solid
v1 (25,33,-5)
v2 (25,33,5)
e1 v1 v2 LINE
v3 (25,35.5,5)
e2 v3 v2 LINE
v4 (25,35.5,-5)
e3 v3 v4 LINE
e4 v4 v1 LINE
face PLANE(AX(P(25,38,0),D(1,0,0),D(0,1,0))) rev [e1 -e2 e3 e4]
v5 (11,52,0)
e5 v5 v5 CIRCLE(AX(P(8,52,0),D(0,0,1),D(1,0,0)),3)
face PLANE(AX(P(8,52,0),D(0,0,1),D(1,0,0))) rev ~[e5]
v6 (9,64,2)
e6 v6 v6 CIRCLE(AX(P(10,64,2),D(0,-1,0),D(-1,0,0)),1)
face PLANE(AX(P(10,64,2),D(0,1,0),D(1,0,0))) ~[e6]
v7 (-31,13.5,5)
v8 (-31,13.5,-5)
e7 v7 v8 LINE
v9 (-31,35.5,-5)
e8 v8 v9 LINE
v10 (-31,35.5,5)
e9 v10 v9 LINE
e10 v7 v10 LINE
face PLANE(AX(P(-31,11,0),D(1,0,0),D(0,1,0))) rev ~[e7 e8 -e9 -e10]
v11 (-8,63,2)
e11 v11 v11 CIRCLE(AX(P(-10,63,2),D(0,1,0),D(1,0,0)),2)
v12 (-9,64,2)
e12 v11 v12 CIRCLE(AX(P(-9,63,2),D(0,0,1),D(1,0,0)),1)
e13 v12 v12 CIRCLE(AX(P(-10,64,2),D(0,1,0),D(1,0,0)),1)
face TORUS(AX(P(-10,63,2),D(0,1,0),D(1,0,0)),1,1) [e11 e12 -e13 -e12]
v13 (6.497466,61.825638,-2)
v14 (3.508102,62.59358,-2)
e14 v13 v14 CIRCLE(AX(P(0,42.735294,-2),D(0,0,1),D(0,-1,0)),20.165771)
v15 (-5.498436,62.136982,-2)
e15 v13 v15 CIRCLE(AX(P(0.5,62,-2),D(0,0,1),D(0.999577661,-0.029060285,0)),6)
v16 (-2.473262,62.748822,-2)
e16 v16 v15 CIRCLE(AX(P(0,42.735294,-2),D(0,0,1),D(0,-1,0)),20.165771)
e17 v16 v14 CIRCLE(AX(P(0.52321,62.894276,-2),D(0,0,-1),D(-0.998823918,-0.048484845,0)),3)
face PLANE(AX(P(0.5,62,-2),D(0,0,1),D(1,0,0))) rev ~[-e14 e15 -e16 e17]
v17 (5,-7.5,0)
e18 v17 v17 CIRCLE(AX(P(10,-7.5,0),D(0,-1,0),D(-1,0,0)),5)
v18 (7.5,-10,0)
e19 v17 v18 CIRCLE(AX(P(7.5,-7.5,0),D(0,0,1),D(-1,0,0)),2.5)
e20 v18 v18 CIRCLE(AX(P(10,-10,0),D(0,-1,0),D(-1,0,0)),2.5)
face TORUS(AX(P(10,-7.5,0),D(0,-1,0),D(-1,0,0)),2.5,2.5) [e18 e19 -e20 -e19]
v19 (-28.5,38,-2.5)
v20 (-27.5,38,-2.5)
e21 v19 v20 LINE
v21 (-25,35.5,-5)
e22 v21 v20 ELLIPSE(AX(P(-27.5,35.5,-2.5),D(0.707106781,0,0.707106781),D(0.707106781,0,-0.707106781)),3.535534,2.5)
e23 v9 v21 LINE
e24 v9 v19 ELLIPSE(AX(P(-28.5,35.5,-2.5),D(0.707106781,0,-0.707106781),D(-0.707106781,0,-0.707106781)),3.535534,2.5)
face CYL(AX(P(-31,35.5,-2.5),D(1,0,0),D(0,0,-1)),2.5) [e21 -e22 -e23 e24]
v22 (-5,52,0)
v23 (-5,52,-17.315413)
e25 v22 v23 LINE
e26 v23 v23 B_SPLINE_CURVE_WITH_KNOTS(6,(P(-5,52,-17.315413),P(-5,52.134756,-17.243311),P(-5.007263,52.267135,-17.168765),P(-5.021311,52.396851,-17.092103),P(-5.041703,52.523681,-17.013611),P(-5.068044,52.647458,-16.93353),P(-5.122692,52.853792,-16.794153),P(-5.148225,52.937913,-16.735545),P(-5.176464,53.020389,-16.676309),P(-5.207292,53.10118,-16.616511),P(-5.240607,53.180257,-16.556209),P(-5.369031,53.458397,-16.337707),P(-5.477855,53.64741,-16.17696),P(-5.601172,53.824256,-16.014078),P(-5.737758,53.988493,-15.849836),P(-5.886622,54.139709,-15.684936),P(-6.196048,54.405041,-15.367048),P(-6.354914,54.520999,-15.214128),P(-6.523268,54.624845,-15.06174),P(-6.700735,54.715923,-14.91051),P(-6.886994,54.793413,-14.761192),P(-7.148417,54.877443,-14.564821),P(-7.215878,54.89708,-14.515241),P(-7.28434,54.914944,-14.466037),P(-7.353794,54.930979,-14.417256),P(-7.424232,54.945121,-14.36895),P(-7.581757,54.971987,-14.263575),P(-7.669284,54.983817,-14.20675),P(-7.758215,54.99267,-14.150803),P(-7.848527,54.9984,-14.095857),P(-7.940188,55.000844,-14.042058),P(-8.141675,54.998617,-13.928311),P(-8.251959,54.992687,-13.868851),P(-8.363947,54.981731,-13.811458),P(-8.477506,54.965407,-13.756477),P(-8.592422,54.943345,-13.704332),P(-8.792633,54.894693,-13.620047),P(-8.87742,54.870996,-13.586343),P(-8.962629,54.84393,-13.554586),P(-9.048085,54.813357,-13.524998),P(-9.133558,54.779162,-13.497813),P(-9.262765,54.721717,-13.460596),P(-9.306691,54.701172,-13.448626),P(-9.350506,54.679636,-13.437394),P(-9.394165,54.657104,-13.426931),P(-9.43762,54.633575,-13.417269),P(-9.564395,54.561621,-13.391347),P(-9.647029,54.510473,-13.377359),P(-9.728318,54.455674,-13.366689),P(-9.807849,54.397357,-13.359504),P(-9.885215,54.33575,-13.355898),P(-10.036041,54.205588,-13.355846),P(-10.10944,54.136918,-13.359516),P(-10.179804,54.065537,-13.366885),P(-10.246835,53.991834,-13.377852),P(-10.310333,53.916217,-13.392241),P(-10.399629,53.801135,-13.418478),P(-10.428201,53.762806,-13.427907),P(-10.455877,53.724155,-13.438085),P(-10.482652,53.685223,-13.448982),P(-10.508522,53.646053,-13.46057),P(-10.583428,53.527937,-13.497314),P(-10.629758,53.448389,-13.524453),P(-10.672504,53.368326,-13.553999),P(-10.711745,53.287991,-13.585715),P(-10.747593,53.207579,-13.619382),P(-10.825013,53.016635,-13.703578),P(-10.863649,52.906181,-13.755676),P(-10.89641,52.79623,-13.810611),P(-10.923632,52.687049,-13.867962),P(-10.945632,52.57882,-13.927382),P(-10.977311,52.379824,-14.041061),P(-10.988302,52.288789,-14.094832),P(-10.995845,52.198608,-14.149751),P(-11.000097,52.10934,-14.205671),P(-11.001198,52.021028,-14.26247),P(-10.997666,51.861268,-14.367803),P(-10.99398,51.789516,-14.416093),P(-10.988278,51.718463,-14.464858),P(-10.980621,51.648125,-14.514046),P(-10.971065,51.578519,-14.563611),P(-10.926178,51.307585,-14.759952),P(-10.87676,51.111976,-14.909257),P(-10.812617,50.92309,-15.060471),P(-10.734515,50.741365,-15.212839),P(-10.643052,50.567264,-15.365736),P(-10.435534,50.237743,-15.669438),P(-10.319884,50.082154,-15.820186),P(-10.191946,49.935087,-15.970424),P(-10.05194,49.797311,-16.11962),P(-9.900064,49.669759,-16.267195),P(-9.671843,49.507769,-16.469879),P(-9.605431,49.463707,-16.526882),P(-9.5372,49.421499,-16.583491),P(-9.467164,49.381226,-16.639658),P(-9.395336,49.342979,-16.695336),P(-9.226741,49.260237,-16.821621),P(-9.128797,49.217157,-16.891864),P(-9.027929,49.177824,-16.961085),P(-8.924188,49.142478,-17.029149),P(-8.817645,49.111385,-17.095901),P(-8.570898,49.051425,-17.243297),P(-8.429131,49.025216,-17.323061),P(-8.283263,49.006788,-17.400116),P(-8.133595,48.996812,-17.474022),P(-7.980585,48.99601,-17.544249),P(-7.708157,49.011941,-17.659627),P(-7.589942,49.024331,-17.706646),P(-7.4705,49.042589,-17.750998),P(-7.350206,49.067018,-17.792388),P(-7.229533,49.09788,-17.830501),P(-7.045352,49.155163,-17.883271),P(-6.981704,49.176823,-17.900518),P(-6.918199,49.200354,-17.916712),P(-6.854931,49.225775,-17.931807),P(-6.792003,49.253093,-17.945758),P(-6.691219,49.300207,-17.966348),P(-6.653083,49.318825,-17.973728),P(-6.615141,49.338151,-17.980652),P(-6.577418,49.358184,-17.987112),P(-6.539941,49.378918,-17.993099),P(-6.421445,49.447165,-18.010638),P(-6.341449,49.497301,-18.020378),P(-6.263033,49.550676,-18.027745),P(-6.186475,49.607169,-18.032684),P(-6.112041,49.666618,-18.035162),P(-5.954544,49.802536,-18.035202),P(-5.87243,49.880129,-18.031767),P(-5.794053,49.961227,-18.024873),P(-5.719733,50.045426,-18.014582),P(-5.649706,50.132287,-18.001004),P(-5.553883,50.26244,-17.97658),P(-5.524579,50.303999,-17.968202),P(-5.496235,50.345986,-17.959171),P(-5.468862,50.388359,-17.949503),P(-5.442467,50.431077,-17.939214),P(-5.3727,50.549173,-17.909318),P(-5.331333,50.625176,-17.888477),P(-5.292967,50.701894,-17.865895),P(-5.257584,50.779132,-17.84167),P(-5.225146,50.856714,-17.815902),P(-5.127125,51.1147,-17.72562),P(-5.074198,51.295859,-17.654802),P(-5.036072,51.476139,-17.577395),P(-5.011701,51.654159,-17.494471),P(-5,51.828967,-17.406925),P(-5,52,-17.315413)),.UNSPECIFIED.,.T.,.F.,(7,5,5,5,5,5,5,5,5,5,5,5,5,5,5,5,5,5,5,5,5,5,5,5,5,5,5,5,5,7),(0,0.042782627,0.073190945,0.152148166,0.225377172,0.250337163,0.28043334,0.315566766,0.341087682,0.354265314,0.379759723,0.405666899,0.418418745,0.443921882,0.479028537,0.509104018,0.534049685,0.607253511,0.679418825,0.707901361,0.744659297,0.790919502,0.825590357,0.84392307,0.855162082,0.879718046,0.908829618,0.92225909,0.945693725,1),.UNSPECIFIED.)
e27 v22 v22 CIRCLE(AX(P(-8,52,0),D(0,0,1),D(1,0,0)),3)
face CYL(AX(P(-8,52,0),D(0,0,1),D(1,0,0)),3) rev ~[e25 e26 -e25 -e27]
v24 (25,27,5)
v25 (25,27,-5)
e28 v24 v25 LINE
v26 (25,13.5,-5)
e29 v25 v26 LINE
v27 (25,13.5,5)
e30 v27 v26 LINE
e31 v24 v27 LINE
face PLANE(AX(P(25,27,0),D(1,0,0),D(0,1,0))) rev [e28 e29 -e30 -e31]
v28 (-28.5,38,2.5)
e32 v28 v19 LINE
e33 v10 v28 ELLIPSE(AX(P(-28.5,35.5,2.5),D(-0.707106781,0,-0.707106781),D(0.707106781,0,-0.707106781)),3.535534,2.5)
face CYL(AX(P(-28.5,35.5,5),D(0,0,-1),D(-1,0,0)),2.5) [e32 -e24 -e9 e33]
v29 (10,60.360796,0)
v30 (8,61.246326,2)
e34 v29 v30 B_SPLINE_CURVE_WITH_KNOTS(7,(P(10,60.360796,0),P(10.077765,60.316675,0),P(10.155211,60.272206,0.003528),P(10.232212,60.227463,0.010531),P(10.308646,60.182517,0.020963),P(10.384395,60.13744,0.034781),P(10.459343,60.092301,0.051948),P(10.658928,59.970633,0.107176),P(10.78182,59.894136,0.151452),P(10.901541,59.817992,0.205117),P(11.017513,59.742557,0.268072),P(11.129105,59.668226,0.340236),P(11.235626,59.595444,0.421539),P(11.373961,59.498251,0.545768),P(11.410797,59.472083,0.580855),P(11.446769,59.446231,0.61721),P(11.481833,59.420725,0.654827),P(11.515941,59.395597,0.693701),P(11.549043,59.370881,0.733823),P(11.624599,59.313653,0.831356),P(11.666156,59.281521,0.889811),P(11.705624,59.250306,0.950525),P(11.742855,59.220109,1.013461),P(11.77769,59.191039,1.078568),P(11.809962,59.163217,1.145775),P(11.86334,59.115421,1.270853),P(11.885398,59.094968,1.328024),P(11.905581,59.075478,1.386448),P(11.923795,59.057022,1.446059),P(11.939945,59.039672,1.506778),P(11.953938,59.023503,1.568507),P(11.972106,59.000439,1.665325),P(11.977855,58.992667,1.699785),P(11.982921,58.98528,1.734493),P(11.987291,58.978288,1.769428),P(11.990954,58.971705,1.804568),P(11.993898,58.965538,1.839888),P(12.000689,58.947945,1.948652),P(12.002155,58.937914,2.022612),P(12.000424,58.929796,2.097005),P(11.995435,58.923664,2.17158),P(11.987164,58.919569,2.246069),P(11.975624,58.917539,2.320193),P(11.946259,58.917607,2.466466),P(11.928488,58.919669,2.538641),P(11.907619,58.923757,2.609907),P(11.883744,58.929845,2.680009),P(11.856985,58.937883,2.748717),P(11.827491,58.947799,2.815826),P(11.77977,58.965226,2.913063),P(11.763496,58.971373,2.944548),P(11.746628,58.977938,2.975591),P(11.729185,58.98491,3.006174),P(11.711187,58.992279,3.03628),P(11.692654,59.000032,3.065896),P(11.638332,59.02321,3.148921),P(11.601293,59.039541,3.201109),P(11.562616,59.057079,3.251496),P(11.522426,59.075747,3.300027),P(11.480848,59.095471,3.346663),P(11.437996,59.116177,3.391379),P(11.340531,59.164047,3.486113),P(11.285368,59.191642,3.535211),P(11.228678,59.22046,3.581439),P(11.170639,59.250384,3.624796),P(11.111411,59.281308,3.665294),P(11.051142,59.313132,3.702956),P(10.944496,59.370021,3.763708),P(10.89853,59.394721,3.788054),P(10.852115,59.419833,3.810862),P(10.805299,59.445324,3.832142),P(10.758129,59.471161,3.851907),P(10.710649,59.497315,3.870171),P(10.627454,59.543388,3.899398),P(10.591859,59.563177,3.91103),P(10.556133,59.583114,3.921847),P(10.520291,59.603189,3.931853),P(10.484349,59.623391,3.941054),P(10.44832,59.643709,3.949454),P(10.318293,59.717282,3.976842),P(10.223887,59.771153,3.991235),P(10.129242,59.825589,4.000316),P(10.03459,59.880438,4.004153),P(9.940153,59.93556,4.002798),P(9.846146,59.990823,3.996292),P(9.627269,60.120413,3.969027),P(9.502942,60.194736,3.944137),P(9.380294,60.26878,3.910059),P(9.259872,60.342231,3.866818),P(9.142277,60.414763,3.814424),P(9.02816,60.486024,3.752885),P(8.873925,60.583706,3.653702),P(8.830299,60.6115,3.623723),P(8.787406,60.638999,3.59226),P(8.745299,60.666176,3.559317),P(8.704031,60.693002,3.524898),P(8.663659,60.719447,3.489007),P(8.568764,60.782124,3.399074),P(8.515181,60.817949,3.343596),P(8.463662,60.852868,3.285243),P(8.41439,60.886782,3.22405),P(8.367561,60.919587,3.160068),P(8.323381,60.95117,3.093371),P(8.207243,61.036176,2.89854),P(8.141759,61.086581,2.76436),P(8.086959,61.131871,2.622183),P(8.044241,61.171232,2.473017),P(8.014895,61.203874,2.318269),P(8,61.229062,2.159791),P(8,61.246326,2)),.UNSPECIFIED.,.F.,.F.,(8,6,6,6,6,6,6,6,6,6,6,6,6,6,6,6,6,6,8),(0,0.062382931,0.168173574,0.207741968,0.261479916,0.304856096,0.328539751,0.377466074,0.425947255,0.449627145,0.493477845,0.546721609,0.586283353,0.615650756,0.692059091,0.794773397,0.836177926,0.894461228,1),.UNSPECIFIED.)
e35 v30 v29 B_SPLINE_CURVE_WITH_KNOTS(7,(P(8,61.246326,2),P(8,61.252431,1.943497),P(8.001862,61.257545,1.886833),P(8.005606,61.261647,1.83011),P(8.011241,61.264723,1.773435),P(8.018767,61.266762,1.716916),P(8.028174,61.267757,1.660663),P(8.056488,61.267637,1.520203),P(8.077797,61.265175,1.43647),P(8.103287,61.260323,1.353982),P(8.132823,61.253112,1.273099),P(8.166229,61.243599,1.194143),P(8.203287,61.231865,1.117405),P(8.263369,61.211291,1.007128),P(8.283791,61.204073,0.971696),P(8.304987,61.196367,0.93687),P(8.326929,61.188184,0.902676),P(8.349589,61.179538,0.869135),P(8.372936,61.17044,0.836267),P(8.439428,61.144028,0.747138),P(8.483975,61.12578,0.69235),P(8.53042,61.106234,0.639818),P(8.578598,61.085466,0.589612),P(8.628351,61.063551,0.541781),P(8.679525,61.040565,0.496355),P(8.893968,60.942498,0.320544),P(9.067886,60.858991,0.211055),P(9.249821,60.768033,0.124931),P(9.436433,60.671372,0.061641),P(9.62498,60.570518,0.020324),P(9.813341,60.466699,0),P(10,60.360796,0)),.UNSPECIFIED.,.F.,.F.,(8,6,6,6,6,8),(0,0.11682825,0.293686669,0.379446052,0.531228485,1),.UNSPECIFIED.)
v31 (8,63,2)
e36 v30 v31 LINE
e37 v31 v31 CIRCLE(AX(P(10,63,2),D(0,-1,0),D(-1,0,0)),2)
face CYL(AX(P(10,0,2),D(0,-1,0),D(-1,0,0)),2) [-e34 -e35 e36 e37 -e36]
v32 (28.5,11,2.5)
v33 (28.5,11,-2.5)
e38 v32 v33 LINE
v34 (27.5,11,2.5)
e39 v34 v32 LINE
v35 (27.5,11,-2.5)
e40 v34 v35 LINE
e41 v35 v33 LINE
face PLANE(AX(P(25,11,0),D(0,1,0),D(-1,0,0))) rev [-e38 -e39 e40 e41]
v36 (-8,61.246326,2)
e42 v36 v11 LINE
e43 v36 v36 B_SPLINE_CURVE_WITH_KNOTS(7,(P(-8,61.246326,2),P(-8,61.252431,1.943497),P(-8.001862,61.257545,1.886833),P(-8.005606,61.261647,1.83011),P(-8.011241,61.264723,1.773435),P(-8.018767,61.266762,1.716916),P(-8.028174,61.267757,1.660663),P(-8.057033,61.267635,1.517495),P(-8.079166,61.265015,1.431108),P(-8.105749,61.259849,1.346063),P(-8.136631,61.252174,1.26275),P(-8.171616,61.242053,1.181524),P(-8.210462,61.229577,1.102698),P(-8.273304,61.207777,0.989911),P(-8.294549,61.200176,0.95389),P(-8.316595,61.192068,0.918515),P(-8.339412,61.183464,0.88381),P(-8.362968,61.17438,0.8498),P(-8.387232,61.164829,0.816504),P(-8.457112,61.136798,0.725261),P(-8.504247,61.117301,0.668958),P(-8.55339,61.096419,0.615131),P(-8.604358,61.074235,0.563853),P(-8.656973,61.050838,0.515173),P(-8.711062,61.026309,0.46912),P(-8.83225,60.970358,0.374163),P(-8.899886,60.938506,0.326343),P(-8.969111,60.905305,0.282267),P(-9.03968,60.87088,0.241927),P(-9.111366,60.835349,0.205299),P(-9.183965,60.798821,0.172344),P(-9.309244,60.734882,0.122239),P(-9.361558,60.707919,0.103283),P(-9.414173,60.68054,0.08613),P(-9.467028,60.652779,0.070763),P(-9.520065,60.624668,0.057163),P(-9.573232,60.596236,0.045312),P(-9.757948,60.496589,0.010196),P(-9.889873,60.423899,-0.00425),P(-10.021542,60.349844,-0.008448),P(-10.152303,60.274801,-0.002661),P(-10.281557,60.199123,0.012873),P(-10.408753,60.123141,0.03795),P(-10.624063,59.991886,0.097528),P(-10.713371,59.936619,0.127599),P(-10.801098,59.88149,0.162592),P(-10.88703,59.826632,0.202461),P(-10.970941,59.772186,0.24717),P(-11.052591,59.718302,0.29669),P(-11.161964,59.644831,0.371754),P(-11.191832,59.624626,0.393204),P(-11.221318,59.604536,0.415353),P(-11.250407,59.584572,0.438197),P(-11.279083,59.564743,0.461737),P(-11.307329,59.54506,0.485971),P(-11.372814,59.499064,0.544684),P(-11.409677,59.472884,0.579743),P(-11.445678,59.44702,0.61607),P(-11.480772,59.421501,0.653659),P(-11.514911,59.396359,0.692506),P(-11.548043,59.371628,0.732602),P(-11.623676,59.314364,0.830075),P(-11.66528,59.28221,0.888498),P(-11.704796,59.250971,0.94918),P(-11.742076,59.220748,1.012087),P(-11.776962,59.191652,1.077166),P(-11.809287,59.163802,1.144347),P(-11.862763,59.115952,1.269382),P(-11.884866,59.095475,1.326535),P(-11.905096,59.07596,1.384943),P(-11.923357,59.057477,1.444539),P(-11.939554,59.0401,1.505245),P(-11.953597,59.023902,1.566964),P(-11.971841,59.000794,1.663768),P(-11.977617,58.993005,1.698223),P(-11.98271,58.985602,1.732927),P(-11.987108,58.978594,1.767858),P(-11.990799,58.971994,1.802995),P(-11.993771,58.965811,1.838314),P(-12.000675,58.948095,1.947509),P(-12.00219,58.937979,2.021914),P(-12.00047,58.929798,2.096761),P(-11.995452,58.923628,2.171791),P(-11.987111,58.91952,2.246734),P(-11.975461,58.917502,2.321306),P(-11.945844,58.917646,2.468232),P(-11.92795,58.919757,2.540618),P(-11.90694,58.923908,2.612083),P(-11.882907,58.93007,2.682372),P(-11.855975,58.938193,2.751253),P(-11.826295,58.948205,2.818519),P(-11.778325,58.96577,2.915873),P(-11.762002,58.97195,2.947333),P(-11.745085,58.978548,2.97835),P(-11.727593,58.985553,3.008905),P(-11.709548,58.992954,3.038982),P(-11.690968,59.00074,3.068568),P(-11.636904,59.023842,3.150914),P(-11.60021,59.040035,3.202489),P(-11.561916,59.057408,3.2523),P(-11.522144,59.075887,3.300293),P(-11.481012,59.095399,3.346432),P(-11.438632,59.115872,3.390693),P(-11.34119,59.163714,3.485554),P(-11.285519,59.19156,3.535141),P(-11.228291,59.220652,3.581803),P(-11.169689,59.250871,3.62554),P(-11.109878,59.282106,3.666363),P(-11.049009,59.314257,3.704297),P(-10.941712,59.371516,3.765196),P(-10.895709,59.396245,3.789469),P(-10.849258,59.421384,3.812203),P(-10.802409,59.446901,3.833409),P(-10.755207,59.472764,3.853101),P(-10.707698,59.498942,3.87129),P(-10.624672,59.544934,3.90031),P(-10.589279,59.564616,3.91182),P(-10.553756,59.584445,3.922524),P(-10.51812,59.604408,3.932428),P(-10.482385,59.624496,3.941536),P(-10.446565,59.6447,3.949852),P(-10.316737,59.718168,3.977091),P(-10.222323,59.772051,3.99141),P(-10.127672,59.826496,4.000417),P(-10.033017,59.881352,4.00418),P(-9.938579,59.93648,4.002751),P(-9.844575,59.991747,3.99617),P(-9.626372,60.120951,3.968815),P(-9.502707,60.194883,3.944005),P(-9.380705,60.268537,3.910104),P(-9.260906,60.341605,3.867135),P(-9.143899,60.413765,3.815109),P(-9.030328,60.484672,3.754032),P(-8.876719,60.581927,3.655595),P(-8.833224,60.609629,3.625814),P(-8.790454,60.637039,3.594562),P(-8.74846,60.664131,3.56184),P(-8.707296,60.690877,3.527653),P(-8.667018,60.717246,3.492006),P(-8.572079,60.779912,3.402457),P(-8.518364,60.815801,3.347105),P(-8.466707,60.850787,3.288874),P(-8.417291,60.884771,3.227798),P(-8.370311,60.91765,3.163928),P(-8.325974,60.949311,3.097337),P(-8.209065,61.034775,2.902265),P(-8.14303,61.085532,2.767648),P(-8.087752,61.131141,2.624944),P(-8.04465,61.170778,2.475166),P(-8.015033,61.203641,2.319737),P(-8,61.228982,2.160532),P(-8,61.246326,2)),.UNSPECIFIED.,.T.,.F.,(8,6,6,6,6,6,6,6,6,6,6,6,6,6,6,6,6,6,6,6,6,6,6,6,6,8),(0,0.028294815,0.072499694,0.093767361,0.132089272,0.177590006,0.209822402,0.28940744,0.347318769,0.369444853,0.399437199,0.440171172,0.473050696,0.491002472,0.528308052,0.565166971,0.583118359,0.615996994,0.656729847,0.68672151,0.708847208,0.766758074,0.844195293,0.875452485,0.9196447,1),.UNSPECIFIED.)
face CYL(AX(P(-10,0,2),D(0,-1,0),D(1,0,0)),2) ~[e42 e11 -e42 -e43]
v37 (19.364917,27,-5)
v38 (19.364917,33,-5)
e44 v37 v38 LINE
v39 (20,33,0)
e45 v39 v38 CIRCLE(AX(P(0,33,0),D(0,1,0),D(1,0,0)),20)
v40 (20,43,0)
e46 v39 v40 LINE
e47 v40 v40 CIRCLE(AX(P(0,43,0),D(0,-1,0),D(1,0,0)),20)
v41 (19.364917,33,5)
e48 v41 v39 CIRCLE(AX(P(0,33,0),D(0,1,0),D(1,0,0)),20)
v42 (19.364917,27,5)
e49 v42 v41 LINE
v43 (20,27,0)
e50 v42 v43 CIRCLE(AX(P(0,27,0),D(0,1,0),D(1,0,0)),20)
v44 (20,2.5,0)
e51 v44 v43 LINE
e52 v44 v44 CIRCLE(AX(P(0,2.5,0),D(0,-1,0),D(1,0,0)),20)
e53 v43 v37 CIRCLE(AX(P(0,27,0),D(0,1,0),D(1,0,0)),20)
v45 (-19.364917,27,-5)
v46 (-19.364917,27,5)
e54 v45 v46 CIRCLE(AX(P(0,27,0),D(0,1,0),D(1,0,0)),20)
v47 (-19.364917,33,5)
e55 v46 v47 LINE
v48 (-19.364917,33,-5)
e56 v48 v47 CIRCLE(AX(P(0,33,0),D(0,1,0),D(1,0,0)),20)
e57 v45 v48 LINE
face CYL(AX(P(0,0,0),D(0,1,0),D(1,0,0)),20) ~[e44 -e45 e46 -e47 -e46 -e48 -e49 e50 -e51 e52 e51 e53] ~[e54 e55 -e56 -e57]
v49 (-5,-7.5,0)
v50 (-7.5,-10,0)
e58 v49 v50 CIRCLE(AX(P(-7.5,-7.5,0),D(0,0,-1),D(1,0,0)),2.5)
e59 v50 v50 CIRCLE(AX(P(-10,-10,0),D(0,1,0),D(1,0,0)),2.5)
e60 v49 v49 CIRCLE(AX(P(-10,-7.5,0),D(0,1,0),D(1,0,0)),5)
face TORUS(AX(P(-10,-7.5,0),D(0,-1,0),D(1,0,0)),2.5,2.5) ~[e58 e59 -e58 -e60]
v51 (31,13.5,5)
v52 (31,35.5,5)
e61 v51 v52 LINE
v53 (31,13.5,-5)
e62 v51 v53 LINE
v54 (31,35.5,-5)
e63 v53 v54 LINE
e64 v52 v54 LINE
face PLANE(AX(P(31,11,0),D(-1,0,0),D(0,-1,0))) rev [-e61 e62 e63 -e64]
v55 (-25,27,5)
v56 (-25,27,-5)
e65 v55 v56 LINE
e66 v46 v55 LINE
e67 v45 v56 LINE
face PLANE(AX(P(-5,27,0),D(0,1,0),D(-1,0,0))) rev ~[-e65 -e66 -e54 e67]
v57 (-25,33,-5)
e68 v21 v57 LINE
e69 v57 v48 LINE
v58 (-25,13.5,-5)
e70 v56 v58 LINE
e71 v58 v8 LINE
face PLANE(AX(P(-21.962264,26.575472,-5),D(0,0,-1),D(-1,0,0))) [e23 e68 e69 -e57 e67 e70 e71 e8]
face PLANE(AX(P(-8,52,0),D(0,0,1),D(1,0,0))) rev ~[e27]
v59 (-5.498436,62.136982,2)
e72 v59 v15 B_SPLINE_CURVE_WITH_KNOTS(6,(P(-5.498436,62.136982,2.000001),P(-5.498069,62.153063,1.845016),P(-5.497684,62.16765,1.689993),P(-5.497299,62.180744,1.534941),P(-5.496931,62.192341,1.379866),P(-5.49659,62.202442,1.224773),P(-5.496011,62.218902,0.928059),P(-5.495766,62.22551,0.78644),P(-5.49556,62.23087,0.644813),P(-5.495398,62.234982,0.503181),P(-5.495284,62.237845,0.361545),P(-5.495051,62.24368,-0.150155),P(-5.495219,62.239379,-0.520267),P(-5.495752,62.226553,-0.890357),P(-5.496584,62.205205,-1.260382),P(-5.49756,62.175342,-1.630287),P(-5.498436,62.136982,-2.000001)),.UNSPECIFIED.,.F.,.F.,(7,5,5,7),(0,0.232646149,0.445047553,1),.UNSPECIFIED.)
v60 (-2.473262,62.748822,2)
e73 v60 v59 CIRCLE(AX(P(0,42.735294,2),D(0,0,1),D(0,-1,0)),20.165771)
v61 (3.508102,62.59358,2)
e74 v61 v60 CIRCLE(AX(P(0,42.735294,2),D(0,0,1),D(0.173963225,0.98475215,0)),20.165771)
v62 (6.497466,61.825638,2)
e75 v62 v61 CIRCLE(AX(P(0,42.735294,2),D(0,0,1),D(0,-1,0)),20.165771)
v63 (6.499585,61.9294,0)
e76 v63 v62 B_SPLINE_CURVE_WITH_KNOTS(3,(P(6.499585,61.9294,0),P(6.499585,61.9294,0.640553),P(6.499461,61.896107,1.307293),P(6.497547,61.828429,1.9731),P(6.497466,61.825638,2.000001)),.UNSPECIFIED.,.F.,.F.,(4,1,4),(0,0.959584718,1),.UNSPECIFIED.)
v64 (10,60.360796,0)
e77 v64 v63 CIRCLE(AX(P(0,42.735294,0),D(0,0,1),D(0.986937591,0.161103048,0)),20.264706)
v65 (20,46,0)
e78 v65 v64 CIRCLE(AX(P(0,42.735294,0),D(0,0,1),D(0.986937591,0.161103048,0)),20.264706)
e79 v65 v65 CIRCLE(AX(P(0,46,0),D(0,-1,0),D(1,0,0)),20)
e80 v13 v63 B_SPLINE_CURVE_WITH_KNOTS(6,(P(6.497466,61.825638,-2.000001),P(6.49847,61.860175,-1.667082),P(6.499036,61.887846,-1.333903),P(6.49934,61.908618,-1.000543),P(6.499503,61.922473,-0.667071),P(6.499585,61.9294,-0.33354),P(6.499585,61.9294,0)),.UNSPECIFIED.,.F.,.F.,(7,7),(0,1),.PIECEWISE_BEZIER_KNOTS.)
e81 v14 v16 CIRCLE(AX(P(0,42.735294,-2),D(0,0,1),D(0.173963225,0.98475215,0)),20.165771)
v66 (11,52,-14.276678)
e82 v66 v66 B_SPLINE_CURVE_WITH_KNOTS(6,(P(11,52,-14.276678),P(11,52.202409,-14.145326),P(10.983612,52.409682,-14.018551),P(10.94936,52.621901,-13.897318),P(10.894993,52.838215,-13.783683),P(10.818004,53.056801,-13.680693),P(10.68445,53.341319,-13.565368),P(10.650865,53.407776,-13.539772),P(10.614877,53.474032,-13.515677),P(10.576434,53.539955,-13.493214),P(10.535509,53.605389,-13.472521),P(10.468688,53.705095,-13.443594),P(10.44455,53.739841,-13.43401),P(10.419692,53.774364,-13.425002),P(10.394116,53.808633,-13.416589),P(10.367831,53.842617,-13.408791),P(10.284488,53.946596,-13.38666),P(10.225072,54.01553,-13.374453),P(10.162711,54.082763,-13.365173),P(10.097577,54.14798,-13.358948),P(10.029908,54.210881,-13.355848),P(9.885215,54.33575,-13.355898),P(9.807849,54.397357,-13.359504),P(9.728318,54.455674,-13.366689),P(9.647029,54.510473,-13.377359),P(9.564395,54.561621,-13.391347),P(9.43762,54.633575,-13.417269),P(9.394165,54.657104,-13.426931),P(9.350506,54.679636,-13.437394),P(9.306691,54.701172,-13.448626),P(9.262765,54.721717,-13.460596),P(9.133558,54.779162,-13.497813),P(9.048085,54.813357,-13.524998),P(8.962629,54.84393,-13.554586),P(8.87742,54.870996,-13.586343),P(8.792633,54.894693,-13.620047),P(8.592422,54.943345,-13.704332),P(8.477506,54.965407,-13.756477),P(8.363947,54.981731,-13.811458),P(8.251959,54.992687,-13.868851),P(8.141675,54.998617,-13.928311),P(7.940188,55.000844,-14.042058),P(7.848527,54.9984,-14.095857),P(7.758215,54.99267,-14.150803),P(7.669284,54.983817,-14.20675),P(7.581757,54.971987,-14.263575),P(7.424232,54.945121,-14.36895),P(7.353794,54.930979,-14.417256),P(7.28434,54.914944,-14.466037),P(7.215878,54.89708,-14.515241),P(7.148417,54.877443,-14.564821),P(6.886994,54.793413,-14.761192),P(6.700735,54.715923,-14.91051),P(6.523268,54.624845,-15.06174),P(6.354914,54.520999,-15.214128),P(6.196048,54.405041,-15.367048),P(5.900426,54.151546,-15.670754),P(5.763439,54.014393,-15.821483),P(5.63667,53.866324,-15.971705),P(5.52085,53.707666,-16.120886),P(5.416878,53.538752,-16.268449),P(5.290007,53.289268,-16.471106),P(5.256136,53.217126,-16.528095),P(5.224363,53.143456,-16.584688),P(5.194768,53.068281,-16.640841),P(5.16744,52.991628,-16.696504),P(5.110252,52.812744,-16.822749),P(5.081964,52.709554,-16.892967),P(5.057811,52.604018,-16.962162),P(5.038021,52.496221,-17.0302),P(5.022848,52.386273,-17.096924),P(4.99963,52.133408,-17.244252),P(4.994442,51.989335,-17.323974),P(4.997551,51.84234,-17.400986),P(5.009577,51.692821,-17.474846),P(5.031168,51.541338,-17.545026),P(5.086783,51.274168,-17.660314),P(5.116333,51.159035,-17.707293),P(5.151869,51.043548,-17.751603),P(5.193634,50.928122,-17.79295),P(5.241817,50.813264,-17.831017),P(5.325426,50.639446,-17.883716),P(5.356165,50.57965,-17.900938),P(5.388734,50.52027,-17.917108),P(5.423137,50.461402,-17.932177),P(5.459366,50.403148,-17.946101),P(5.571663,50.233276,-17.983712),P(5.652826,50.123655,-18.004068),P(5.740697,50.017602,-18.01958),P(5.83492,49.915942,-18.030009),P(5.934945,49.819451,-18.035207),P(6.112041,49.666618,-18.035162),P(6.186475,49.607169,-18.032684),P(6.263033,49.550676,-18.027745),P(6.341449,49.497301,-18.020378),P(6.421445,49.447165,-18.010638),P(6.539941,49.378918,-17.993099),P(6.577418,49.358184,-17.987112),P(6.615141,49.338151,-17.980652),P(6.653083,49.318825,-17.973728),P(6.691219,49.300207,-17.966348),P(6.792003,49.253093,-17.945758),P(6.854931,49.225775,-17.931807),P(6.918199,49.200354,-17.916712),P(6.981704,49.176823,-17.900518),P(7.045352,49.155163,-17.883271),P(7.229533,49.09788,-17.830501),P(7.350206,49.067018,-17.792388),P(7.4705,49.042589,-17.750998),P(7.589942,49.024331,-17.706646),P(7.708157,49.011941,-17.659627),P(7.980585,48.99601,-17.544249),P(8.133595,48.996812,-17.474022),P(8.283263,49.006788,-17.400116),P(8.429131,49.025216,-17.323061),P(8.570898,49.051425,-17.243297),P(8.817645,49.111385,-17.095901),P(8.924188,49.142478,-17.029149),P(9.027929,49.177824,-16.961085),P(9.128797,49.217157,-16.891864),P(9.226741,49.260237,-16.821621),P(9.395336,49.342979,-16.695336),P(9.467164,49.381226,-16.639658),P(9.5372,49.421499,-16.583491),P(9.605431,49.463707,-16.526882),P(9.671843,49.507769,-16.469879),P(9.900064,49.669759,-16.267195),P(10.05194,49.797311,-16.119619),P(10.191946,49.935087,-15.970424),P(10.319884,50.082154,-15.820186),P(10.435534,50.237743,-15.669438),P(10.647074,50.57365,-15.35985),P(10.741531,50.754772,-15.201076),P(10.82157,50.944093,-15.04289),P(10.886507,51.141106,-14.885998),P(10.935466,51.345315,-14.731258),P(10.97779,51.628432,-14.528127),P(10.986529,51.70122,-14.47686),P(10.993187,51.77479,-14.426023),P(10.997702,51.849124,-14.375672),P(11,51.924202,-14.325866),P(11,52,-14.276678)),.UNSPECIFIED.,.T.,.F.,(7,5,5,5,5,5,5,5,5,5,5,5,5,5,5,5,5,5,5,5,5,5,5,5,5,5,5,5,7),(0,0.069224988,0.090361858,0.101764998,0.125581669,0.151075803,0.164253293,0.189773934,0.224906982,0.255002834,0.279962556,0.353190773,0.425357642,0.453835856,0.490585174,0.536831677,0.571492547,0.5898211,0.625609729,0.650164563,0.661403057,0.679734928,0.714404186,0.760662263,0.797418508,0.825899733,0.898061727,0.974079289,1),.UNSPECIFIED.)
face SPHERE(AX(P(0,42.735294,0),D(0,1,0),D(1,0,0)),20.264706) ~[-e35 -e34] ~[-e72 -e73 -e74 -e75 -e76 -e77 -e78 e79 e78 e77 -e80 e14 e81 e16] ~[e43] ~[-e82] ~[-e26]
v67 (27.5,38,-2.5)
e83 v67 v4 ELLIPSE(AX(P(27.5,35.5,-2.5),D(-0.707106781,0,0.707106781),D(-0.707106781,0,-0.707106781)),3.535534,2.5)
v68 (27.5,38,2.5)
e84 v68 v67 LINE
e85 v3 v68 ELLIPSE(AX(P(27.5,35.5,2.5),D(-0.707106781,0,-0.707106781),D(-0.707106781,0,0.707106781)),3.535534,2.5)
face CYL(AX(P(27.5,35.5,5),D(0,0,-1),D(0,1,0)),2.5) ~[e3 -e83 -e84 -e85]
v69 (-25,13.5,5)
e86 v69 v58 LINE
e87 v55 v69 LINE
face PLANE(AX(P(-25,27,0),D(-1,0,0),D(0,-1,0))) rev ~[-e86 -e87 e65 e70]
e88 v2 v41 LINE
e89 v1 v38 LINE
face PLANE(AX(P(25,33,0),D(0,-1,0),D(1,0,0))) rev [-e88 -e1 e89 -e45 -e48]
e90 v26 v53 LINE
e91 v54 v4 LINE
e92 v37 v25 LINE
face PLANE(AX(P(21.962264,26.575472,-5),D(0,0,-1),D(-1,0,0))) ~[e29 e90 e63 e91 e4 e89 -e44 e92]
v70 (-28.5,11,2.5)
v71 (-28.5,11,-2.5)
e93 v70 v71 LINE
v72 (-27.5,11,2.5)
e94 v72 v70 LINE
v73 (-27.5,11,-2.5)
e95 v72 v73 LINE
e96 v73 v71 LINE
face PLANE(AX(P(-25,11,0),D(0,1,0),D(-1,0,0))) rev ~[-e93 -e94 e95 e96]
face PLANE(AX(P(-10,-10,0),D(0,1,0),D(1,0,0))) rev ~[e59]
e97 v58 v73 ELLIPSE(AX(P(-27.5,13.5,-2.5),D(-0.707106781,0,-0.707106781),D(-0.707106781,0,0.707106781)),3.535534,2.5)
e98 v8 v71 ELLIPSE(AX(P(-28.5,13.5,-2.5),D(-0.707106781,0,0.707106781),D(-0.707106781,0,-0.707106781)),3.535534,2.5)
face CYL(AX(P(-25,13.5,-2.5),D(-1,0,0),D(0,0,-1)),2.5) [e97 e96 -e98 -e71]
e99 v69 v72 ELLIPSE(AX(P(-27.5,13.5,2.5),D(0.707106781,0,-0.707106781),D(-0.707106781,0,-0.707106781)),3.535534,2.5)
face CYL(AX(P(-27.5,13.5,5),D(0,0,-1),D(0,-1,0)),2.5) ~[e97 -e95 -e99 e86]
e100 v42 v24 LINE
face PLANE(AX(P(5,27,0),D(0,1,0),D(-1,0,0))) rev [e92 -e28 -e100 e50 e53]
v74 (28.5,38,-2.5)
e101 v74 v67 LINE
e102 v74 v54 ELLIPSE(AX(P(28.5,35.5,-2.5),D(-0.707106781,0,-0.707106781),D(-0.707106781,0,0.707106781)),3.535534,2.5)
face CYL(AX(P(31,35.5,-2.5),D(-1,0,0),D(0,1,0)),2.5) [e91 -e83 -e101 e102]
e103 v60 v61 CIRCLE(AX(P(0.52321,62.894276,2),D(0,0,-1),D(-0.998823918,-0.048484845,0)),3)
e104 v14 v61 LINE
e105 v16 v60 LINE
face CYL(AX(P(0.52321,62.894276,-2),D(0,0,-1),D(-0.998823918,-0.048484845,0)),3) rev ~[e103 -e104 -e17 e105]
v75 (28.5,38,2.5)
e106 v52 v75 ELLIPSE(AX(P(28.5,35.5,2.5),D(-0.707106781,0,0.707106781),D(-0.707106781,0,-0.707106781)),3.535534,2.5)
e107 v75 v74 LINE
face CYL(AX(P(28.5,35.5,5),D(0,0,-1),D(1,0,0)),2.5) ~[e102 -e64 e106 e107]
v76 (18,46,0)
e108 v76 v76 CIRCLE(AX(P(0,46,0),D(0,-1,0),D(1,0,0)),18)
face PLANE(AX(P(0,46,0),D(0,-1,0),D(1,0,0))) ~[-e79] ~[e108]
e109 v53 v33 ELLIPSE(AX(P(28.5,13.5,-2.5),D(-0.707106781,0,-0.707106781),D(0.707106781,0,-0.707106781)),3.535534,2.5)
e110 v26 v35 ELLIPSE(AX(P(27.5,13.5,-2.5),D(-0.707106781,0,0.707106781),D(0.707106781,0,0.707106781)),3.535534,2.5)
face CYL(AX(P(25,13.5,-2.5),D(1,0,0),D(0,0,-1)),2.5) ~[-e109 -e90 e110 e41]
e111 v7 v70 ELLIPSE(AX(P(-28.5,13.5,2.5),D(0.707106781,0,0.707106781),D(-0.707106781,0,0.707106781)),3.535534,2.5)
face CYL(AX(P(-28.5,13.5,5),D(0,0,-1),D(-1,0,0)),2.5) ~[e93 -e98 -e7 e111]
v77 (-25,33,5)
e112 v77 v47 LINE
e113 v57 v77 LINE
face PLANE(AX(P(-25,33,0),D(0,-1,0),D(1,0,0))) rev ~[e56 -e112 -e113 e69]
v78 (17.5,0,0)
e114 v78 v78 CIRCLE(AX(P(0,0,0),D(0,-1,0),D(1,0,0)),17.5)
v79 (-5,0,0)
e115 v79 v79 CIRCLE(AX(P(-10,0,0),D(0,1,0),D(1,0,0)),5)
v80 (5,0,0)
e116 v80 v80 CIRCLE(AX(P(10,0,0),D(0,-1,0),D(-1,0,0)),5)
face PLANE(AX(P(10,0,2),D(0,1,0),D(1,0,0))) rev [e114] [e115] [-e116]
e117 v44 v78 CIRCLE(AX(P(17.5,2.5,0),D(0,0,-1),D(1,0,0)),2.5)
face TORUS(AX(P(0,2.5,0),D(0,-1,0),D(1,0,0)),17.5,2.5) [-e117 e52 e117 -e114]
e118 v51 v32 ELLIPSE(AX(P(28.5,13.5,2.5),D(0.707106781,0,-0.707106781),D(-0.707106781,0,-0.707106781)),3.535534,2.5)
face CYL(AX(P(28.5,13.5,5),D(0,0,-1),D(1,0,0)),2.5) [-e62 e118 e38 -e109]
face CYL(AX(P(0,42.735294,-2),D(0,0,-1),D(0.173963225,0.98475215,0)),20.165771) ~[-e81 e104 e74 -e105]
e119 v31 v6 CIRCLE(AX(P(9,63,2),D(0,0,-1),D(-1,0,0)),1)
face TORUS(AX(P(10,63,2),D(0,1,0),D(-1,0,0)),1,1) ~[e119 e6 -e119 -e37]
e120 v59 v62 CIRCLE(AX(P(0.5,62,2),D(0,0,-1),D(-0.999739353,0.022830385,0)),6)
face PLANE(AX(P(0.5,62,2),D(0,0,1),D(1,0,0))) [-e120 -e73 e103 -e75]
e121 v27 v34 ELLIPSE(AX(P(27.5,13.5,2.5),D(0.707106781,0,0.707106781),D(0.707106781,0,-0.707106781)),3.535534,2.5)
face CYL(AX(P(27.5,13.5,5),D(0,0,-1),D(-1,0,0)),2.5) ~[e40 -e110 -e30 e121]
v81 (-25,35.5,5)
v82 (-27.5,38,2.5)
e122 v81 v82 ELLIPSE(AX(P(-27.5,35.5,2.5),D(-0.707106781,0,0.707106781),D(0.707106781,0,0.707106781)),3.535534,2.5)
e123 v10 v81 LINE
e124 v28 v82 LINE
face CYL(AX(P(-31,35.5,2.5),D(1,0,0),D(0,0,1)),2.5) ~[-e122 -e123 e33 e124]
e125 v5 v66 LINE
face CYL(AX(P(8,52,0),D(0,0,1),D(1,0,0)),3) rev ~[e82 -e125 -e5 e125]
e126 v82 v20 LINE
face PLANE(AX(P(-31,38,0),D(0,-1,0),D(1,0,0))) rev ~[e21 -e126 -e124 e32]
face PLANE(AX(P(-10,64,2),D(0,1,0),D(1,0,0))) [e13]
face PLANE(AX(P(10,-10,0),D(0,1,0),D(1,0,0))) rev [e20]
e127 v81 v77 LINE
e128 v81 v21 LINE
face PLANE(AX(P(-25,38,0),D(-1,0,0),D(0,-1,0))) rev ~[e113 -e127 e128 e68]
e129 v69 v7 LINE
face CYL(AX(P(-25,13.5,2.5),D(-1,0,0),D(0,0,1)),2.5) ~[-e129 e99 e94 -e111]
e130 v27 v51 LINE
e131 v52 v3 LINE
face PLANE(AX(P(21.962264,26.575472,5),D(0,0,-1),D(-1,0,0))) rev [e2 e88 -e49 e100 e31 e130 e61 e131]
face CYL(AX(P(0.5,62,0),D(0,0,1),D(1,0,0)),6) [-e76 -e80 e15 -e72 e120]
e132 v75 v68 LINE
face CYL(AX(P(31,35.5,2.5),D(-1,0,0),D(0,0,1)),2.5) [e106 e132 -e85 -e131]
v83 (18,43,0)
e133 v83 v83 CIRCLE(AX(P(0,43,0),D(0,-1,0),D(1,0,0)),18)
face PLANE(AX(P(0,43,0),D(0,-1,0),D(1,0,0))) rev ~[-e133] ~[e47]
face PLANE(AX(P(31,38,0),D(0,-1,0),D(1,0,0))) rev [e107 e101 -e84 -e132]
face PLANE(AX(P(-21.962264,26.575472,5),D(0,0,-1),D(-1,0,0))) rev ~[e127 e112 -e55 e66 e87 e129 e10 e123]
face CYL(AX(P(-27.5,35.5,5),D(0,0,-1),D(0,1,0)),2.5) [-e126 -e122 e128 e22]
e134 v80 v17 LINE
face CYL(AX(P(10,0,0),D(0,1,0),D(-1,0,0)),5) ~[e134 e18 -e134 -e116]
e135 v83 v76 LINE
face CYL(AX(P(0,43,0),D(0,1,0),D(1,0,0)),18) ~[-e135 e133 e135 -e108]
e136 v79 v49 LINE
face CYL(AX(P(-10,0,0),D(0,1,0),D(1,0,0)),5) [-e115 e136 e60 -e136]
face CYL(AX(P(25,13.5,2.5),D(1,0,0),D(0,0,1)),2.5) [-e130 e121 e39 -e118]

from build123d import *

# Parameters (mm, degrees)
CROQUIS2_R               = 3
CORTAR_EXTRUIR1_DEPTH    = 21
CROQUIS9_R               = 2
SALIENTE_EXTRUIR4_DEPTH  = 64
CROQUIS12_R              = 5
SALIENTE_EXTRUIR7_DEPTH  = 10
SALIENTE_EXTRUIR8_DEPTH  = 5
CROQUIS18_R              = 6
SALIENTE_EXTRUIR10_DEPTH = 2
CORTAR_EXTRUIR7_DEPTH    = 4
REDONDEO7_R              = 1
REDONDEO8_R              = 2.5
REDONDEO9_R              = 2.5
REDONDEO10_R             = 2.5
REDONDEO13_R             = 2.5


with BuildPart() as part:
    # Croquis1 → Revolución1 (revolve)
    with BuildSketch(Plane.XY):
        with BuildLine():
            Line((0, 63), (0, 0))
            Line((0, 0), (20, 0))
            Line((20, 0), (20, 43))
            Line((20, 43), (18, 43))
            Line((18, 43), (18, 46))
            Line((18, 46), (20, 46))
            ThreePointArc((20, 46), (13.124404748, 58.175770292), (0, 63))
        make_face()
    revolve(axis=Axis((0, 63, 0), (0, -1, 0)))

    # Croquis2 → Cortar-Extruir1 (cut, through all)
    with BuildSketch(Plane.XY):
        with Locations((-8, 52)):
            Circle(CROQUIS2_R)
        with Locations((8, 52)):
            Circle(CROQUIS2_R)
    extrude(amount=-CORTAR_EXTRUIR1_DEPTH, mode=Mode.SUBTRACT)

    # Croquis9 → Saliente-Extruir4 (add)
    with BuildSketch(Plane(origin=(0, 0, 0), x_dir=(1, 0, 0), z_dir=(0, 1, 0))):
        with Locations((-10, -2)):
            Circle(CROQUIS9_R)
    saliente_extruir4 = extrude(amount=SALIENTE_EXTRUIR4_DEPTH)

    # Croquis12 → Saliente-Extruir7 (add)
    with BuildSketch(Plane(origin=(0, 0, 0), x_dir=(1, 0, 0), z_dir=(0, 1, 0))):
        with Locations((-10, 0)):
            Circle(CROQUIS12_R)
    saliente_extruir7 = extrude(amount=-SALIENTE_EXTRUIR7_DEPTH)

    # Croquis17 → Saliente-Extruir8 (add, symmetric)
    with BuildSketch(Plane.XY):
        Polygon((-5, 27), (-25, 27), (-25, 11), (-31, 11), (-31, 38), (-25, 38), (-25, 33), (-5, 33), align=None)
    saliente_extruir8 = extrude(amount=SALIENTE_EXTRUIR8_DEPTH, both=True)

    # Simetría4: Saliente-Extruir4, Saliente-Extruir7, Saliente-Extruir8 across plane
    add(saliente_extruir4.mirror(Plane(origin=(0, 0, 0), x_dir=(0, 0, 1), z_dir=(1, 0, 0))))
    add(saliente_extruir7.mirror(Plane(origin=(0, 0, 0), x_dir=(0, 0, 1), z_dir=(1, 0, 0))))
    add(saliente_extruir8.mirror(Plane(origin=(0, 0, 0), x_dir=(0, 0, 1), z_dir=(1, 0, 0))))

    # Croquis18 → Saliente-Extruir10 (add, symmetric)
    with BuildSketch(Plane.XY):
        with Locations((0.5, 62)):
            Circle(CROQUIS18_R)
    extrude(amount=SALIENTE_EXTRUIR10_DEPTH, both=True)

    # Croquis20 → Cortar-Extruir7 (cut)
    with BuildSketch(Plane(origin=(0, 0, -2), x_dir=(-1, 0, 0), z_dir=(0, 0, -1))):
        with BuildLine():
            ThreePointArc((-3.508102494, 62.593580081), (-0.52321022, 62.894276125), (2.473261535, 62.74882159))
            ThreePointArc((2.473261535, 62.74882159), (-0.601046604, 65.893266204), (-3.508102494, 62.593580081))
        make_face()
    extrude(amount=-CORTAR_EXTRUIR7_DEPTH, mode=Mode.SUBTRACT)

    # Redondeo7
    redondeo7_edges = [part.edges().sort_by_distance(p)[0] for p in [
        (-12, 64, 2),
        (12, 64, 2),
    ]]
    fillet(redondeo7_edges, radius=REDONDEO7_R)

    # Redondeo8
    redondeo8_edges = [part.edges().sort_by_distance(p)[0] for p in [
        (-15, -10, 0),
        (15, -10, 0),
    ]]
    fillet(redondeo8_edges, radius=REDONDEO8_R)

    # Redondeo9
    redondeo9_edges = [part.edges().sort_by_distance(p)[0] for p in [
        (-28, 11, 5),
        (-28, 11, -5),
        (-31, 11, 0),
        (-25, 11, 0),
        (28, 11, -5),
        (31, 11, 0),
        (28, 11, 5),
        (25, 11, 0),
    ]]
    fillet(redondeo9_edges, radius=REDONDEO9_R)

    # Redondeo10
    redondeo10_edges = [part.edges().sort_by_distance(p)[0] for p in [
        (-28, 38, 5),
        (-31, 38, 0),
        (-28, 38, -5),
        (-25, 38, 0),
        (28, 38, -5),
        (28, 38, 5),
        (31, 38, 0),
        (25, 38, 0),
    ]]
    fillet(redondeo10_edges, radius=REDONDEO10_R)

    # Redondeo13
    redondeo13_edges = [part.edges().sort_by_distance(p)[0] for p in [
        (-20, 0, 0),
    ]]
    fillet(redondeo13_edges, radius=REDONDEO13_R)


solid = part.part
